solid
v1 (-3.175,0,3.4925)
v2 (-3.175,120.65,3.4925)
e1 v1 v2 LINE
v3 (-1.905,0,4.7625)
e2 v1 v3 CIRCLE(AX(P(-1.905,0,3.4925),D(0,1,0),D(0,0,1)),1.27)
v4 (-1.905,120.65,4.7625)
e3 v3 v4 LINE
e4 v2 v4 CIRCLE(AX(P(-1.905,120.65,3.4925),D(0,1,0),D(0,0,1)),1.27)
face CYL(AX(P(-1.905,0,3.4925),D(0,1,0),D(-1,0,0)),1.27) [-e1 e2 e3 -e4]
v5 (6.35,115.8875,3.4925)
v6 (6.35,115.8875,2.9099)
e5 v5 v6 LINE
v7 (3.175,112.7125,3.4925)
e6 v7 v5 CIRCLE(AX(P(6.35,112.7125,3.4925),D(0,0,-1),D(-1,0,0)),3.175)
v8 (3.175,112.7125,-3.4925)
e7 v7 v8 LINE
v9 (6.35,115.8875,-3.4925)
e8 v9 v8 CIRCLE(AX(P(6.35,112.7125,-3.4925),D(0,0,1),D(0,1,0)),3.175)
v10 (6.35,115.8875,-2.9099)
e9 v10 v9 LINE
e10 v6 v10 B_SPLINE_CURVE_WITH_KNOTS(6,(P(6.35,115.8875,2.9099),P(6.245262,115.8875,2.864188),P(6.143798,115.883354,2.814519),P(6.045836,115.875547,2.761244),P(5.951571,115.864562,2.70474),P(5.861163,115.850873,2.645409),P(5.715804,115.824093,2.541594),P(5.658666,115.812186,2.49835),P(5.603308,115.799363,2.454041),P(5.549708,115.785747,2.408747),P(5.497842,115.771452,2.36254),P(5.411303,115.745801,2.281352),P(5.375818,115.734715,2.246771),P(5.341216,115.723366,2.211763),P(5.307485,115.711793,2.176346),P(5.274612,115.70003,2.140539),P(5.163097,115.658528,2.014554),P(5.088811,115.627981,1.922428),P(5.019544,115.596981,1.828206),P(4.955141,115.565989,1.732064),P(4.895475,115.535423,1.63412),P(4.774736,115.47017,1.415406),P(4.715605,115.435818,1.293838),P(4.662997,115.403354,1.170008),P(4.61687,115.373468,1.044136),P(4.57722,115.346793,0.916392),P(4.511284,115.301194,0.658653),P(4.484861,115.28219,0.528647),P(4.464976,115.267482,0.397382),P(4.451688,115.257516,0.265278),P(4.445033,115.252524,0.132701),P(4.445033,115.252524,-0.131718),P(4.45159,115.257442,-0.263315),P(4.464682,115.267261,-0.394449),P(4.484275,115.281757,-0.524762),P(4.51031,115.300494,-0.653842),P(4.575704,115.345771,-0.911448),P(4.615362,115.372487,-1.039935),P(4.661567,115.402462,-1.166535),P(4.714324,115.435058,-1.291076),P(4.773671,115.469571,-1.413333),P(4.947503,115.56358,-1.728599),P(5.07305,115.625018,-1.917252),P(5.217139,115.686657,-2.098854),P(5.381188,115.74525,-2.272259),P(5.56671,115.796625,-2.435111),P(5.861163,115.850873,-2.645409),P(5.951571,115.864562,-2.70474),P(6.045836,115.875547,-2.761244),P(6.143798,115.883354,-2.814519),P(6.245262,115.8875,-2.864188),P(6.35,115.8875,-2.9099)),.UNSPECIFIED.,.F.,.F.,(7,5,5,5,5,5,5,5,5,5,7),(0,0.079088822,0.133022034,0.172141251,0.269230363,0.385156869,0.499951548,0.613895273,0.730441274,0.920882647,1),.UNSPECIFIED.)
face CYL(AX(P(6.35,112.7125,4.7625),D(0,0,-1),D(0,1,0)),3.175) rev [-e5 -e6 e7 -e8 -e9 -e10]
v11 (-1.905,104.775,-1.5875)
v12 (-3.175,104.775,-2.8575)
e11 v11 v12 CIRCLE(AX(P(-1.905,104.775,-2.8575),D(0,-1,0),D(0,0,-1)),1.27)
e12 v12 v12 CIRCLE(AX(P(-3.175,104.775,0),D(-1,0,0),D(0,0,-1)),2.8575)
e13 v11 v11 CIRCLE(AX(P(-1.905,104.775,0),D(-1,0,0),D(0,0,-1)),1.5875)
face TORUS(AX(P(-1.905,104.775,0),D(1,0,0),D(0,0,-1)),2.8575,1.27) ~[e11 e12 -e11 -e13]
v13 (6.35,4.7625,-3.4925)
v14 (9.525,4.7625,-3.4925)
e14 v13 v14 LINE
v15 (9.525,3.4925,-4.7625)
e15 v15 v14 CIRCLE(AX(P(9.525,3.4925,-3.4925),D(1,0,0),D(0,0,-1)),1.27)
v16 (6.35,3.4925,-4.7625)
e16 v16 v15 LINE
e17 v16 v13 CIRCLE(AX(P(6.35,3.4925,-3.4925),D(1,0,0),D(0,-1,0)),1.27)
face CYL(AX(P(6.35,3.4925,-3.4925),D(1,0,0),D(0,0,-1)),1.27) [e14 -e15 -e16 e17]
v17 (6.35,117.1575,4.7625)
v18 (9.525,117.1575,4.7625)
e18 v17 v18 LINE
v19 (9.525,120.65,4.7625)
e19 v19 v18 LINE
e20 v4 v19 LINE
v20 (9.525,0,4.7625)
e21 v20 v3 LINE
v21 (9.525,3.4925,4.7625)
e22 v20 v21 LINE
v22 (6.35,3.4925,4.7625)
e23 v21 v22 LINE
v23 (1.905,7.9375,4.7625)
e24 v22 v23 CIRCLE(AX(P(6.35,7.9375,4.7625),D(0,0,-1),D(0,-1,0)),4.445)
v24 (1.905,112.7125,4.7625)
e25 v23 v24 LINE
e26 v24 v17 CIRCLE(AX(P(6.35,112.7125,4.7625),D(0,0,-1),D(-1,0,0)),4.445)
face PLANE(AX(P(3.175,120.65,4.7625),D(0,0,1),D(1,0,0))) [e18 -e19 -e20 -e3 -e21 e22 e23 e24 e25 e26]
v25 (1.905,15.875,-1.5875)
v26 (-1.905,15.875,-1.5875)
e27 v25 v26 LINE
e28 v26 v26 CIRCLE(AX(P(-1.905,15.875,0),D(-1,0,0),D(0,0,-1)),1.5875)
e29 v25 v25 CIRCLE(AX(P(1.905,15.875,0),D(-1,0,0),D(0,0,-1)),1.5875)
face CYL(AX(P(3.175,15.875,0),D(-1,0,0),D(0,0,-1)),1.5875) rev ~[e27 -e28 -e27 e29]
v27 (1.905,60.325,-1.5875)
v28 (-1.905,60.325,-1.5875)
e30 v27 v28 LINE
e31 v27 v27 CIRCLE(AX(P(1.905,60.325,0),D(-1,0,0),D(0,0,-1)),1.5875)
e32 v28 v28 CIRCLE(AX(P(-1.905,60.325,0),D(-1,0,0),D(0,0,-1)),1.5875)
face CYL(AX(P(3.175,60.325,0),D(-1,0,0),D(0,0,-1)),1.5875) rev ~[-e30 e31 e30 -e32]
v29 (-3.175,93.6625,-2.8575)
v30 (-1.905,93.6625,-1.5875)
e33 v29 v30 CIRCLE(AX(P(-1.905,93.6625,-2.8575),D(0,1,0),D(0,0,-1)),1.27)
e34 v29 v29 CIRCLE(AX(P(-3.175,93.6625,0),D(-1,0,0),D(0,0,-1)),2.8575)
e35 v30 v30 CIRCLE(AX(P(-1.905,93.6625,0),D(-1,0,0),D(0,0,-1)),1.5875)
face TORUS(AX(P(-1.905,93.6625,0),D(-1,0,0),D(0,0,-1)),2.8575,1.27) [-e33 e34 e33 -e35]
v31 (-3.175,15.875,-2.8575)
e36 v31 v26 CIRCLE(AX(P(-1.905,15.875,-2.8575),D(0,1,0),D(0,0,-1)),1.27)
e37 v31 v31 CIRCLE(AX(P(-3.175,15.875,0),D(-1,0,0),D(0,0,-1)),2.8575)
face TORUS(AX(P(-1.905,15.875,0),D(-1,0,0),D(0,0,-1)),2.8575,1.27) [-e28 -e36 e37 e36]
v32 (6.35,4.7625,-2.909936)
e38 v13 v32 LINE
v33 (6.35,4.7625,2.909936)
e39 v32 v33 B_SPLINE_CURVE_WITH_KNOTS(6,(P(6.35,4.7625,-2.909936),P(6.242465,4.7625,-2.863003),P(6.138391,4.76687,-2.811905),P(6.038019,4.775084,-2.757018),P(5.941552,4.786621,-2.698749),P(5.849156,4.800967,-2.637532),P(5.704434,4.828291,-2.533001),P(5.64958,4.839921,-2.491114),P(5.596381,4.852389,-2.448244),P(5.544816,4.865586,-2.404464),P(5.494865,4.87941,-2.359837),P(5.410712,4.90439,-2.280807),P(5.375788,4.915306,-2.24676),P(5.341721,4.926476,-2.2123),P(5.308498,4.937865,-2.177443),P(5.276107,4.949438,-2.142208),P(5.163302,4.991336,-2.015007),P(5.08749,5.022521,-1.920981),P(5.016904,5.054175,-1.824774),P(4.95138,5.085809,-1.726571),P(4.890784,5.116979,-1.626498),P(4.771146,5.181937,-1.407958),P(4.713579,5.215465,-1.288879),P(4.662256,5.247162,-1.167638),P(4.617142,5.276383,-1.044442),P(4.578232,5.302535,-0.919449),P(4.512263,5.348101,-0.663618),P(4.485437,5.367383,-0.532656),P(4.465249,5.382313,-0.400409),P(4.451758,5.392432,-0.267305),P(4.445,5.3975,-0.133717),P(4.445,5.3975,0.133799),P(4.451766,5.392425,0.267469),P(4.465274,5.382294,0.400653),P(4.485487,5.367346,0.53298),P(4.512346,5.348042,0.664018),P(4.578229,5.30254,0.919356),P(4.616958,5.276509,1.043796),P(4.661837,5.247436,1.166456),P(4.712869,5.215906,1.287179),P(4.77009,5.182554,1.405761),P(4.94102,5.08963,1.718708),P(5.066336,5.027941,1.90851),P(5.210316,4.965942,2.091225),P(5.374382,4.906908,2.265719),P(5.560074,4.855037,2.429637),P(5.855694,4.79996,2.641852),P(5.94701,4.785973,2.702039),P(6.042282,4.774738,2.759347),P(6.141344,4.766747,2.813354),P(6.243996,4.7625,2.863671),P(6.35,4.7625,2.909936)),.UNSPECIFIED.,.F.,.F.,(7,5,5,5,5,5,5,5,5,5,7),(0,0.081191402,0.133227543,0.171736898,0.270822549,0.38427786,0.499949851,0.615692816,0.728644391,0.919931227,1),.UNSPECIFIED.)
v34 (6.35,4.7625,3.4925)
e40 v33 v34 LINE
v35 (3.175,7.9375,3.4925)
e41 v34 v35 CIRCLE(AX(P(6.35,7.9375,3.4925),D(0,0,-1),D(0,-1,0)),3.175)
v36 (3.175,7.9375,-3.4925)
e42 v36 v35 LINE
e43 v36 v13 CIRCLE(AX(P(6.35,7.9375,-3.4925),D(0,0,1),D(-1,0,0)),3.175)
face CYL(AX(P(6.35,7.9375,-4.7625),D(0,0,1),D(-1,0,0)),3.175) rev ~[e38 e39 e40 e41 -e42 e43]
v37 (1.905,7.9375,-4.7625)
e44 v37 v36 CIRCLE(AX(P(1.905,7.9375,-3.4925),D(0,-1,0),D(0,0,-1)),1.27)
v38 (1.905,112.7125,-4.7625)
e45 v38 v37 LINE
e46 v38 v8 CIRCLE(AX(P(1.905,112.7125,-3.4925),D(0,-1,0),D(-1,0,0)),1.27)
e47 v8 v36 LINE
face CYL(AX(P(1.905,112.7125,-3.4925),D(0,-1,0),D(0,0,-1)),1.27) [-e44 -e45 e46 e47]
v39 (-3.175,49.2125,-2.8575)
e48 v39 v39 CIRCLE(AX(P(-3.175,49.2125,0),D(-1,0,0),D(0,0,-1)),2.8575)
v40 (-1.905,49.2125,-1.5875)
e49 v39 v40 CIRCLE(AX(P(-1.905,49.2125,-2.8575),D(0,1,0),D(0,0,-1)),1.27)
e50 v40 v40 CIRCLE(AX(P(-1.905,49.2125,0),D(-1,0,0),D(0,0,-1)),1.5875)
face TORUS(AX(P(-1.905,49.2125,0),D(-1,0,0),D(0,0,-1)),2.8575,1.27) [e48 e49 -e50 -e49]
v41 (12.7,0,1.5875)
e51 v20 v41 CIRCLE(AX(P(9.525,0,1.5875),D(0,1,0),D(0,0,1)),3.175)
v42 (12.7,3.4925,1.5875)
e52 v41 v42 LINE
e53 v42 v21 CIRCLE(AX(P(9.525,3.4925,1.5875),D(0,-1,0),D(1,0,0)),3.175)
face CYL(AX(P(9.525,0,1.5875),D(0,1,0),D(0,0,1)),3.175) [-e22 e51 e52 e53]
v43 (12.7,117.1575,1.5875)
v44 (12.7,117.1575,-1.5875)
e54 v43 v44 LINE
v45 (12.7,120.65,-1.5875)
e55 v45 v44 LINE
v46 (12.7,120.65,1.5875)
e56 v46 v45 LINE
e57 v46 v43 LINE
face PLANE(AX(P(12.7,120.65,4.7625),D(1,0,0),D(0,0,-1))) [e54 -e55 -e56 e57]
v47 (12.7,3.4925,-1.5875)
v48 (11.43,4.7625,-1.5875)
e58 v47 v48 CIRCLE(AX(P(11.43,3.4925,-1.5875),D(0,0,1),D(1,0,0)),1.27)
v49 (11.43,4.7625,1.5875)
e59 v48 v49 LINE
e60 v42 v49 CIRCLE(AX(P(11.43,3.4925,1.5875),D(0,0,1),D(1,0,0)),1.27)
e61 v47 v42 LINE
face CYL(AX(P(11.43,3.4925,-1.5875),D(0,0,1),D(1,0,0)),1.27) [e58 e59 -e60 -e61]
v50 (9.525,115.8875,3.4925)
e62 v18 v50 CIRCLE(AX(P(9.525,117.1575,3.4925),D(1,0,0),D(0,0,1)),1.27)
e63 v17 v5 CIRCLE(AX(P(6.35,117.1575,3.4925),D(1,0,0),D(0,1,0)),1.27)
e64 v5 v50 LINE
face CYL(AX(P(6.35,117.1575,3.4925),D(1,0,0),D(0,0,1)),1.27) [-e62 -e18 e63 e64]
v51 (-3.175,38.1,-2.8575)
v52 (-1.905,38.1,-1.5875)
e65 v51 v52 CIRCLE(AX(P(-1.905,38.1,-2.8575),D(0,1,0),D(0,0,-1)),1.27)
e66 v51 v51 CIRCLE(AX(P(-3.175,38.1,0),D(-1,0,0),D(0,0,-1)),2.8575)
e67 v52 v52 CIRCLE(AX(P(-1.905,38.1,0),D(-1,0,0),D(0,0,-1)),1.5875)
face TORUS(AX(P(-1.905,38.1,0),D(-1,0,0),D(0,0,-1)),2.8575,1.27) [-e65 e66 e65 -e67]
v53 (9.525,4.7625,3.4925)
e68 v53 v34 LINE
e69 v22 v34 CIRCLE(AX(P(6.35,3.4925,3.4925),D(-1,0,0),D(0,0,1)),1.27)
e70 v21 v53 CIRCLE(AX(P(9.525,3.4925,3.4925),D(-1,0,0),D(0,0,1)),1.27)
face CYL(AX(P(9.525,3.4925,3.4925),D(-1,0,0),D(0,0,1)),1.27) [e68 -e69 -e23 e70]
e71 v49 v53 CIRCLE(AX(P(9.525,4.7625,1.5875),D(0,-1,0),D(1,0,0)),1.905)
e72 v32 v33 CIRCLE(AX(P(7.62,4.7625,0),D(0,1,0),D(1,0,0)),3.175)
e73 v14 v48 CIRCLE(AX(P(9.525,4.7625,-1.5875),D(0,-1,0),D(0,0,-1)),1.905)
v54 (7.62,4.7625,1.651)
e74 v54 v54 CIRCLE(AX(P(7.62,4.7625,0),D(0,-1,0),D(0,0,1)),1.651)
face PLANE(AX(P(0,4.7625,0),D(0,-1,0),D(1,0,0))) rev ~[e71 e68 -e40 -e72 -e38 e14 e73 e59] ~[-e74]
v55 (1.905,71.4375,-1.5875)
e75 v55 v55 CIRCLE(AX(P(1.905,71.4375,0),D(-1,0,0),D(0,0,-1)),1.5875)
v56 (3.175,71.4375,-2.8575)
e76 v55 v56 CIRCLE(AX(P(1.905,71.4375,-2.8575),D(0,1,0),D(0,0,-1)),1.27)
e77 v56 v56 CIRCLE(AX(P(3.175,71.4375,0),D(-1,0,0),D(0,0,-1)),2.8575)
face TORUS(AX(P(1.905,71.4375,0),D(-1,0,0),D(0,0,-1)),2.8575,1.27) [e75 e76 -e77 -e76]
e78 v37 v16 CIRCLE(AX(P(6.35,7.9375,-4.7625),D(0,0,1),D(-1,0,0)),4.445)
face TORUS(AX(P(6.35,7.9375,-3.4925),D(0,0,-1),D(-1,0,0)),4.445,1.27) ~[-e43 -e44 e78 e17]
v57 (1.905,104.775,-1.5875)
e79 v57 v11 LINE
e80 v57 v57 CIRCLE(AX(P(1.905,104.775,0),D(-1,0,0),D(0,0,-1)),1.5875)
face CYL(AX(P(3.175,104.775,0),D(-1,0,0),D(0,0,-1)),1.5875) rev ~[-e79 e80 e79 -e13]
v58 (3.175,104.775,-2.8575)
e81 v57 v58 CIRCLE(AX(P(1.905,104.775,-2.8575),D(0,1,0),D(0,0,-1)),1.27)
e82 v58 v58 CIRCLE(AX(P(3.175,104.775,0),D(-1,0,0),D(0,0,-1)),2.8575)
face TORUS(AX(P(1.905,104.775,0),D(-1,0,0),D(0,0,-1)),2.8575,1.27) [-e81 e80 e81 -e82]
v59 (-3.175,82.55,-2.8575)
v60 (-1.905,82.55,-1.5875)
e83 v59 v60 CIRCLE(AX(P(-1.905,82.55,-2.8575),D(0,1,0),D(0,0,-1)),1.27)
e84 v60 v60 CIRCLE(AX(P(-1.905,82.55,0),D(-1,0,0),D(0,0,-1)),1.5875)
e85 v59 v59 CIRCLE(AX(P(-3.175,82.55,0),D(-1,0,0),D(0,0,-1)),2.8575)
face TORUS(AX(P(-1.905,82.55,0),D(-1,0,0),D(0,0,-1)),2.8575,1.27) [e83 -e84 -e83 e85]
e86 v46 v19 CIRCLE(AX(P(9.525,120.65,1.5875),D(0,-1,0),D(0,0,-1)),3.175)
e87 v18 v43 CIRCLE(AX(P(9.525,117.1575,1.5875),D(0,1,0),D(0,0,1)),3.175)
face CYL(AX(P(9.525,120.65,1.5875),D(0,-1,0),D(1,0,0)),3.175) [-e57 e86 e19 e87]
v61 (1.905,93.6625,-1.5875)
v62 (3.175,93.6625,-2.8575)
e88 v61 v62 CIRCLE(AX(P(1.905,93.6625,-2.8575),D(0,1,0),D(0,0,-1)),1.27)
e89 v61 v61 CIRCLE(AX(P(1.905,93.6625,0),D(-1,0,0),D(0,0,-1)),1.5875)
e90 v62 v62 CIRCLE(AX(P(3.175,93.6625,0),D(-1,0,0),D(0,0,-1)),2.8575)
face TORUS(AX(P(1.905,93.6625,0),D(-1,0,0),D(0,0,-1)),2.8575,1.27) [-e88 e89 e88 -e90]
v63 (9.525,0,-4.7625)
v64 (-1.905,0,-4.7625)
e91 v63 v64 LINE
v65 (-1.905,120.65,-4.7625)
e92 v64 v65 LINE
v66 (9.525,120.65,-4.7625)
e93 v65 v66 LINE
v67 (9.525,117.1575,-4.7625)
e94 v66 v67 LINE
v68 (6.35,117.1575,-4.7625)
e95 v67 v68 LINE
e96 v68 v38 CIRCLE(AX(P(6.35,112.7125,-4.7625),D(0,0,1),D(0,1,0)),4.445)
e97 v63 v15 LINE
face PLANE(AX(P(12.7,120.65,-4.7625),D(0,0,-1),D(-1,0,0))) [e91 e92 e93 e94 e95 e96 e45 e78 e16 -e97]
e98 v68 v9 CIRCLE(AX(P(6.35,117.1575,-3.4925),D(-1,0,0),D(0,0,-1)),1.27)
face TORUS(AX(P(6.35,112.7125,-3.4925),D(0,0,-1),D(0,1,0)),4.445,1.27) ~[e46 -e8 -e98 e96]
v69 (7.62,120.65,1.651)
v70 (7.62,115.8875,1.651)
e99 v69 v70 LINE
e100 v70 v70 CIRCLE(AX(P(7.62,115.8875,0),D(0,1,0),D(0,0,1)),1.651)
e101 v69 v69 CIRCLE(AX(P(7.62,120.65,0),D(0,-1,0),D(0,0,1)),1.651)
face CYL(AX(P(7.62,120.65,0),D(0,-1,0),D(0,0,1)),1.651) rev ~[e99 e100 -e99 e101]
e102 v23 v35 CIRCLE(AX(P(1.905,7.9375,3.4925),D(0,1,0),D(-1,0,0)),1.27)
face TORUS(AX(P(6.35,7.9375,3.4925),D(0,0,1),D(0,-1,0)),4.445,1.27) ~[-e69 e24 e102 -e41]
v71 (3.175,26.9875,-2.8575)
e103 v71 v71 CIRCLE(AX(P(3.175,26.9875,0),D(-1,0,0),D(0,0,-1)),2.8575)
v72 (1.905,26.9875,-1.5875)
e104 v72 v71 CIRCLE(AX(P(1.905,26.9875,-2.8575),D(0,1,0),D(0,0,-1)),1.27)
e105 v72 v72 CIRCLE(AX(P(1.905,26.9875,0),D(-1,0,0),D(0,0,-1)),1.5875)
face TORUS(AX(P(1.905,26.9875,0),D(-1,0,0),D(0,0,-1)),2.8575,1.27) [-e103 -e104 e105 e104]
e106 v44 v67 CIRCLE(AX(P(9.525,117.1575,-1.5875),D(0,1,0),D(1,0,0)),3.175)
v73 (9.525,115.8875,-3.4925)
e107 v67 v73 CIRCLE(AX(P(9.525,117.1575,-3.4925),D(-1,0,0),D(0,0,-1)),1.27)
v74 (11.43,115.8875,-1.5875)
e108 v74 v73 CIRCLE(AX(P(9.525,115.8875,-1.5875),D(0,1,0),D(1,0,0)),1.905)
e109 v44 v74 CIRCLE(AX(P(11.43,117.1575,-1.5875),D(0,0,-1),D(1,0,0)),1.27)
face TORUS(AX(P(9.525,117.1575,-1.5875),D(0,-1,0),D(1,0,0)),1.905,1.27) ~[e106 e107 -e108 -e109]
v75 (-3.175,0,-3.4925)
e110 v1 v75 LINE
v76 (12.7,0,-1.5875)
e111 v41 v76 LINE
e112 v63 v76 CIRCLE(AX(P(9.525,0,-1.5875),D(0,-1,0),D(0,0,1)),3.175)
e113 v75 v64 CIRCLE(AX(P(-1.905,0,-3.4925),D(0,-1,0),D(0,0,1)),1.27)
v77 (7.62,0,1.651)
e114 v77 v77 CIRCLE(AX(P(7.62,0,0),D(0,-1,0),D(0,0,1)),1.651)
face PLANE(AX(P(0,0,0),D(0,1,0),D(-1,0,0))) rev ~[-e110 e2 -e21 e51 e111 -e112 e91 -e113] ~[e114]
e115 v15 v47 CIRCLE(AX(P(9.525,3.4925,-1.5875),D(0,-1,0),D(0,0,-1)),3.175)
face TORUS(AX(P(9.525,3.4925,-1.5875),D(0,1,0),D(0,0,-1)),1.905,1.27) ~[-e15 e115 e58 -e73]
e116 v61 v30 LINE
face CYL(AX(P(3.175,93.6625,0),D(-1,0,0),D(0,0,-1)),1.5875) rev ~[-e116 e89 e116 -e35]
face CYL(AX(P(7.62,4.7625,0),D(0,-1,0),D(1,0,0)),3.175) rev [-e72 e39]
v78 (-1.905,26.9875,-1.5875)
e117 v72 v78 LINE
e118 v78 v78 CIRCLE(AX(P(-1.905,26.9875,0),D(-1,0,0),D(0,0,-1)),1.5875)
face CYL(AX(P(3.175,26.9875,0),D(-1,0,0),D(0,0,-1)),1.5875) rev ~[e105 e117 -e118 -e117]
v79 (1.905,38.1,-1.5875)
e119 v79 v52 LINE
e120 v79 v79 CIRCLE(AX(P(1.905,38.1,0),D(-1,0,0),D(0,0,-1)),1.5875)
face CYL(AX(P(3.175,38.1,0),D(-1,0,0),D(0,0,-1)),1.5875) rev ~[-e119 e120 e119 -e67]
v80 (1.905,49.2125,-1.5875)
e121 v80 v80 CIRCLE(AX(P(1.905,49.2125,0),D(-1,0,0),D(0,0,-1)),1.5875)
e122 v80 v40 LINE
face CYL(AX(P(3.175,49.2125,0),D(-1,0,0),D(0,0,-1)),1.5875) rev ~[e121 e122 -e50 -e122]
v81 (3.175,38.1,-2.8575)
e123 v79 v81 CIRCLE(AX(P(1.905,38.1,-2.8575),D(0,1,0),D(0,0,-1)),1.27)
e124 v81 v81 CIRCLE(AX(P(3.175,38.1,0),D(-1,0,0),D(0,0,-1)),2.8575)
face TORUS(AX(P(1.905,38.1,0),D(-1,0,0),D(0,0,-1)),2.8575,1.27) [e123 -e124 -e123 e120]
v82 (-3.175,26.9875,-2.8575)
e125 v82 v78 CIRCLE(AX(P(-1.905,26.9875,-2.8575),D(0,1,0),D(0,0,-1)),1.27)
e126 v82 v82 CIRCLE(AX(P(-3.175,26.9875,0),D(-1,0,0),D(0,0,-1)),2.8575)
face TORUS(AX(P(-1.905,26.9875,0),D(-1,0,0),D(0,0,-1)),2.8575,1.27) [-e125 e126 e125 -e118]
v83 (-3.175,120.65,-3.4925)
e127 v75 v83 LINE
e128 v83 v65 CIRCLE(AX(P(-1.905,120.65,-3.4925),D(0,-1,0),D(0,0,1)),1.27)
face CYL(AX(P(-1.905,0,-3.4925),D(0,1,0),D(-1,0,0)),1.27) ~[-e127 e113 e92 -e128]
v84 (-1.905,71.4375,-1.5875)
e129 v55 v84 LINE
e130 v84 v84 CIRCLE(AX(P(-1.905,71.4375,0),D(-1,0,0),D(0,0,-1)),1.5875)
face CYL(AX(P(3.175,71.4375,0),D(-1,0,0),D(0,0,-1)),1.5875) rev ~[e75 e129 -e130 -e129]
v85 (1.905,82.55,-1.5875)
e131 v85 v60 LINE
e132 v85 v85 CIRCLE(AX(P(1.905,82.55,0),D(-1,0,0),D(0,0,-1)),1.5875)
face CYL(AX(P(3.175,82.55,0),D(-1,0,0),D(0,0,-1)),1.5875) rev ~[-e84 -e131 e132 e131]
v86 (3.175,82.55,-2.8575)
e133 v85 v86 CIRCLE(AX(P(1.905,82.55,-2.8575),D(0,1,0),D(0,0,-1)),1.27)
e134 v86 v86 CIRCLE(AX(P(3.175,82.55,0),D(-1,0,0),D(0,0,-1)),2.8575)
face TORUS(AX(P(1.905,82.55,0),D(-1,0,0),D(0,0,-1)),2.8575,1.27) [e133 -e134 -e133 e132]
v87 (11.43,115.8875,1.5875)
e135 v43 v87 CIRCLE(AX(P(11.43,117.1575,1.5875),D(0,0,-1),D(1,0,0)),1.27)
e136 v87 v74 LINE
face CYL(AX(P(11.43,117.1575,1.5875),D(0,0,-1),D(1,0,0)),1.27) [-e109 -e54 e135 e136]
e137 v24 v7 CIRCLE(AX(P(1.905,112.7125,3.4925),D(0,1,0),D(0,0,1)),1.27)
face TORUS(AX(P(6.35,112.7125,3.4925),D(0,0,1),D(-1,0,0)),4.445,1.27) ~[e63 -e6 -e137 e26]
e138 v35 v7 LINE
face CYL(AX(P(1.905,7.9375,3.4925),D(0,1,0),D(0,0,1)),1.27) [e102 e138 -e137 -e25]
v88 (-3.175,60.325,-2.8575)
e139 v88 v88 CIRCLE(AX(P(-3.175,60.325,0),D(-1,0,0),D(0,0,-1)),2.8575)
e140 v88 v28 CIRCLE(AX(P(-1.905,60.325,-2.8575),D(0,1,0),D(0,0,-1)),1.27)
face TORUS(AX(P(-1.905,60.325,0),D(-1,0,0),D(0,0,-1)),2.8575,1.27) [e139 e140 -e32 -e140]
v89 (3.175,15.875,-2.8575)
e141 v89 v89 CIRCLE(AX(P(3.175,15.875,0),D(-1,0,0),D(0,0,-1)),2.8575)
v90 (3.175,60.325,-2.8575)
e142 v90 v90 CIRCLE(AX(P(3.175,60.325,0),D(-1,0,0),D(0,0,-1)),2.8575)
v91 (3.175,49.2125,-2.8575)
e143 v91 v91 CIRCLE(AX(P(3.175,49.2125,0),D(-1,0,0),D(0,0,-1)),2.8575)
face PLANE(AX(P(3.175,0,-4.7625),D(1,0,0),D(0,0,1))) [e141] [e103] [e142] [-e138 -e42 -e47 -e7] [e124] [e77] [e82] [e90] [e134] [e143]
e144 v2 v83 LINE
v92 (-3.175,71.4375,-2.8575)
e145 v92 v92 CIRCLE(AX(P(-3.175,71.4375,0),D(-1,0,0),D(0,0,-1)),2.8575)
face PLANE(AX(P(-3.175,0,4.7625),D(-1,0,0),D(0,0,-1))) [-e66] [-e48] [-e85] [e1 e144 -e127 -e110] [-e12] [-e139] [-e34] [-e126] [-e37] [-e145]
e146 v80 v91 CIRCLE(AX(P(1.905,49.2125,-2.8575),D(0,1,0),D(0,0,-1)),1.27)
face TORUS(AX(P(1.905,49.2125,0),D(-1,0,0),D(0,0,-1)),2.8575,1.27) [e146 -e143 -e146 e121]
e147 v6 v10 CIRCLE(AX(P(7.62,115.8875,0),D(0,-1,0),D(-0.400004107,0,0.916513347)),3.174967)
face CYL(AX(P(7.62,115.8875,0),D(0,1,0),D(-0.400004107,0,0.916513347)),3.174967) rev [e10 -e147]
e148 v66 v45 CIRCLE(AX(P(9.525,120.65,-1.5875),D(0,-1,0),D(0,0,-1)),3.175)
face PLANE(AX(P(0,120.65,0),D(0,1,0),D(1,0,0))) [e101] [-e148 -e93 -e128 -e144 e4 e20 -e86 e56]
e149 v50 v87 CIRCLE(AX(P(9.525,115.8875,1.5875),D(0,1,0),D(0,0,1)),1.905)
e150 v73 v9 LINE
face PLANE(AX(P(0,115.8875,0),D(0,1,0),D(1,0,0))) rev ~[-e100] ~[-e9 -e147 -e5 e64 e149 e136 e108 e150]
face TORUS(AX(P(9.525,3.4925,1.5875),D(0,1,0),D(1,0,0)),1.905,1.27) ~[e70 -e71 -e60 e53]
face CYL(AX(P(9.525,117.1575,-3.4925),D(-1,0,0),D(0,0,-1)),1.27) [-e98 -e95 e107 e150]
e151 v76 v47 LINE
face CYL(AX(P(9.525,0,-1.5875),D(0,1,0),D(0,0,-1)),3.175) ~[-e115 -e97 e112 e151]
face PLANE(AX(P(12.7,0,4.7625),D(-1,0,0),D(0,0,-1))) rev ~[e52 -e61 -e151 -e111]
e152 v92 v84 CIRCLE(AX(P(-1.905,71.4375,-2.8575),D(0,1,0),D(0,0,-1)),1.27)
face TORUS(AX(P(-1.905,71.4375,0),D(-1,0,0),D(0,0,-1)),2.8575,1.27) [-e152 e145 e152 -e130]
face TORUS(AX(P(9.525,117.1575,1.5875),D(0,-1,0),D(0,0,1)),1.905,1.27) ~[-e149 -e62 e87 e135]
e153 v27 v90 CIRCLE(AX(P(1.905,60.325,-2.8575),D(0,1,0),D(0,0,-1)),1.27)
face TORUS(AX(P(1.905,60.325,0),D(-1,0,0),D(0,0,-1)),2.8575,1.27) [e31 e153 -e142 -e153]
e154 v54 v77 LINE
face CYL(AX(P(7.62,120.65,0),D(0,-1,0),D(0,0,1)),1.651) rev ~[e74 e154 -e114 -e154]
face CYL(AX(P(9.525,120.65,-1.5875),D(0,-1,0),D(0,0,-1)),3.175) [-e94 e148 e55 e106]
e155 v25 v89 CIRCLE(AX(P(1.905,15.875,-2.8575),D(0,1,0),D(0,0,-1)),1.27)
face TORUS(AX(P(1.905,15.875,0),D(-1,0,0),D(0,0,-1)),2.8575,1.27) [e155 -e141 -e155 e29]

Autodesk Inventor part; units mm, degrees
ref_plane "YZ Plane" through (0, 0, 0) normal (1, 0, 0) x (0, 1, 0)
ref_plane "XZ Plane" through (0, 0, 0) normal (0, 1, 0) x (-1, 0, 0)
ref_plane "XY Plane" through (0, 0, 0) normal (0, 0, 1) x (1, 0, 0)
sketch "Sketch1" plane through (0, 0, 0) normal (0, 1, 0) x (-1, 0, 0)
  line L0 (3.175, -4.7625) -> (-3.175, -4.7625)
  line L1 (-3.175, -4.7625) -> (-3.175, 4.7625)
  line L2 (-3.175, 4.7625) -> (3.175, 4.7625)
  line L3 (3.175, 4.7625) -> (3.175, -4.7625)
  line L4 (3.175, -4.7625) -> (-3.175, 4.7625) construction
  line L5 (-3.175, -4.7625) -> (3.175, 4.7625) construction
  point P0 (0, 0)
  point P1 (0, 0)
  point P2 (0, 0)
  point P3 (0, 0)
  dimension "d0" = 9.525
  dimension "d1" = 6.35
extrude "Extrusion1" add sketch "Sketch1" along normal blind 120.65
sketch "Sketch2" plane through (0, 0, 0) normal (0, -1, 0) x (1, 0, 0)
  line L0 (3.175, 4.7625) -> (12.7, 4.7625)
  line L1 (12.7, 4.7625) -> (12.7, -4.7625)
  line L2 (12.7, -4.7625) -> (3.175, -4.7625)
  line L3 (3.175, -4.7625) -> (3.175, 4.7625)
  point P0 (0, 0)
  dimension "d4" = 9.525
extrude "Extrusion2" add sketch "Sketch2" against normal blind 4.7625
sketch "Sketch3" plane through (0, 120.65, 0) normal (0, 1, 0) x (1, 0, 0)
  line L0 (3.175, -4.7625) -> (3.175, 4.7625) projected
  line L1 (3.175, -4.7625) -> (12.7, -4.7625) projected
  line L2 (12.7, -4.7625) -> (12.7, 4.7625) projected
  line L3 (12.7, 4.7625) -> (3.175, 4.7625) projected
  point P0 (0, 0)
extrude "Extrusion3" add sketch "Sketch3" against normal blind 4.7625
fillet "Fillet1" radius 3.175 4 edges at (12.7, 2.3813, -4.7625) (12.7, 2.3813, 4.7625) (12.7, 118.2687, -4.7625) (12.7, 118.2687, 4.7625)
fillet "Fillet2" radius 3.175 2 edges at (3.175, 4.7625, 0) (3.175, 115.8875, 0)
sketch "Sketch4" plane through (0, 120.65, 0) normal (0, 1, 0) x (1, 0, 0)
  line L0 (12.7, -1.5875) -> (12.7, 1.5875) projected
  point P0 (0, 0)
  point P1 (7.62, 0)
  dimension "d11" = 5.08
hole "Hole1" at (7.62, 120.65, 0) direction (0, -1, 0) diameter 3.302 depth 203.2 tip angle 118
sketch "Sketch5" plane through (0, 4.7625, 0) normal (0, 1, 0) x (1, 0, 0)
  arc A0 (6.35, -1.0549) -> (6.35, 1.0549) centre (7.62, 0) ccw projected
  circle A1 centre (7.62, 0) radius 3.175
  point P0 (0, 0)
  dimension "d19" = 6.35
extrude "Extrusion4" cut sketch "Sketch5" along normal blind 4.7625
sketch "Sketch6" plane through (0, 115.8875, 0) normal (0, -1, 0) x (1, 0, 0)
  arc A0 (6.35, -1.0549) -> (6.35, 1.0549) centre (7.62, 0) ccw projected
  line L0 (6.35, -4.7625) -> (6.35, -1.0549) projected
  line L1 (6.35, 1.0549) -> (6.35, 4.7625) projected
  arc A1 (6.35, 2.9099) -> (6.35, -2.9099) centre (7.62, 0) ccw projected
  circle A2 centre (7.62, 0) radius 3.175
  point P0 (0, 0)
extrude "Extrusion5" cut sketch "Sketch6" along normal blind 4.7625 contours L0 A1 L1 A0
fillet "Fillet3" radius 1.27 12 edges at (7.9375, 115.8875, -4.7625) (11.7701, 115.8875, -3.8326) (12.7, 115.8875, 0) (11.7701, 115.8875, 3.8326) (7.9375, 115.8875, 4.7625) (3.175, 60.325, 4.7625) (7.9375, 4.7625, 4.7625) (11.7701, 4.7625, 3.8326) (12.7, 4.7625, 0) (11.7701, 4.7625, -3.8326) (7.9375, 4.7625, -4.7625) (3.175, 60.325, -4.7625)
sketch "Sketch7" plane through (3.175, 7.9375, 3.4925) normal (1, 0, 0) x (0, 0, -1)
  line L0 (0, 0) -> (0, 104.775) projected
  line L1 (5.08, -7.9375) -> (1.905, -7.9375) projected
  line L2 (0, 52.3875) -> (19.363, 52.3875)
  point P0 (3.4925, -7.9375)
  point P1 (3.4925, 7.9375)
  point P2 (3.4925, 30.1625)
  point P3 (3.4925, 52.3875)
  point P4 (3.4925, 96.8375)
  point P5 (3.4925, 74.6125)
  point P6 (3.4925, 19.05)
  point P7 (3.4925, 41.275)
  point P8 (3.4925, 85.725)
  point P9 (3.4925, 63.5)
  dimension "d25" = 15.875
  dimension "d26" = 22.225
  dimension "d27" = 11.1125
  dimension "d28" = 11.1125
hole "Hole2" at (3.175, 15.875, 0) at (3.175, 38.1, 0) at (3.175, 60.325, 0) at (3.175, 82.55, 0) at (3.175, 104.775, 0) at (3.175, 26.9875, 0) at (3.175, 49.2125, 0) at (3.175, 93.6625, 0) at (3.175, 71.4375, 0) direction (-1, 0, 0) diameter 3.175 depth 203.2 tip angle 118
fillet "Fillet4" radius 1.27 9 edges at (3.175, 104.775, 1.5875) (3.175, 93.6625, 1.5875) (3.175, 82.55, 1.5875) (3.175, 71.4375, 1.5875) (3.175, 60.325, 1.5875) (3.175, 49.2125, 1.5875) (3.175, 38.1, 1.5875) (3.175, 26.9875, 1.5875) (3.175, 15.875, 1.5875)
fillet "Fillet5" radius 1.27 9 edges at (-3.175, 104.775, 1.5875) (-3.175, 93.6625, 1.5875) (-3.175, 82.55, 1.5875) (-3.175, 71.4375, 1.5875) (-3.175, 60.325, 1.5875) (-3.175, 49.2125, 1.5875) (-3.175, 38.1, 1.5875) (-3.175, 26.9875, 1.5875) (-3.175, 15.875, 1.5875)
fillet "Fillet6" radius 1.27 2 edges at (-3.175, 60.325, -4.7625) (-3.175, 60.325, 4.7625)
properties part number "LidSupport"
